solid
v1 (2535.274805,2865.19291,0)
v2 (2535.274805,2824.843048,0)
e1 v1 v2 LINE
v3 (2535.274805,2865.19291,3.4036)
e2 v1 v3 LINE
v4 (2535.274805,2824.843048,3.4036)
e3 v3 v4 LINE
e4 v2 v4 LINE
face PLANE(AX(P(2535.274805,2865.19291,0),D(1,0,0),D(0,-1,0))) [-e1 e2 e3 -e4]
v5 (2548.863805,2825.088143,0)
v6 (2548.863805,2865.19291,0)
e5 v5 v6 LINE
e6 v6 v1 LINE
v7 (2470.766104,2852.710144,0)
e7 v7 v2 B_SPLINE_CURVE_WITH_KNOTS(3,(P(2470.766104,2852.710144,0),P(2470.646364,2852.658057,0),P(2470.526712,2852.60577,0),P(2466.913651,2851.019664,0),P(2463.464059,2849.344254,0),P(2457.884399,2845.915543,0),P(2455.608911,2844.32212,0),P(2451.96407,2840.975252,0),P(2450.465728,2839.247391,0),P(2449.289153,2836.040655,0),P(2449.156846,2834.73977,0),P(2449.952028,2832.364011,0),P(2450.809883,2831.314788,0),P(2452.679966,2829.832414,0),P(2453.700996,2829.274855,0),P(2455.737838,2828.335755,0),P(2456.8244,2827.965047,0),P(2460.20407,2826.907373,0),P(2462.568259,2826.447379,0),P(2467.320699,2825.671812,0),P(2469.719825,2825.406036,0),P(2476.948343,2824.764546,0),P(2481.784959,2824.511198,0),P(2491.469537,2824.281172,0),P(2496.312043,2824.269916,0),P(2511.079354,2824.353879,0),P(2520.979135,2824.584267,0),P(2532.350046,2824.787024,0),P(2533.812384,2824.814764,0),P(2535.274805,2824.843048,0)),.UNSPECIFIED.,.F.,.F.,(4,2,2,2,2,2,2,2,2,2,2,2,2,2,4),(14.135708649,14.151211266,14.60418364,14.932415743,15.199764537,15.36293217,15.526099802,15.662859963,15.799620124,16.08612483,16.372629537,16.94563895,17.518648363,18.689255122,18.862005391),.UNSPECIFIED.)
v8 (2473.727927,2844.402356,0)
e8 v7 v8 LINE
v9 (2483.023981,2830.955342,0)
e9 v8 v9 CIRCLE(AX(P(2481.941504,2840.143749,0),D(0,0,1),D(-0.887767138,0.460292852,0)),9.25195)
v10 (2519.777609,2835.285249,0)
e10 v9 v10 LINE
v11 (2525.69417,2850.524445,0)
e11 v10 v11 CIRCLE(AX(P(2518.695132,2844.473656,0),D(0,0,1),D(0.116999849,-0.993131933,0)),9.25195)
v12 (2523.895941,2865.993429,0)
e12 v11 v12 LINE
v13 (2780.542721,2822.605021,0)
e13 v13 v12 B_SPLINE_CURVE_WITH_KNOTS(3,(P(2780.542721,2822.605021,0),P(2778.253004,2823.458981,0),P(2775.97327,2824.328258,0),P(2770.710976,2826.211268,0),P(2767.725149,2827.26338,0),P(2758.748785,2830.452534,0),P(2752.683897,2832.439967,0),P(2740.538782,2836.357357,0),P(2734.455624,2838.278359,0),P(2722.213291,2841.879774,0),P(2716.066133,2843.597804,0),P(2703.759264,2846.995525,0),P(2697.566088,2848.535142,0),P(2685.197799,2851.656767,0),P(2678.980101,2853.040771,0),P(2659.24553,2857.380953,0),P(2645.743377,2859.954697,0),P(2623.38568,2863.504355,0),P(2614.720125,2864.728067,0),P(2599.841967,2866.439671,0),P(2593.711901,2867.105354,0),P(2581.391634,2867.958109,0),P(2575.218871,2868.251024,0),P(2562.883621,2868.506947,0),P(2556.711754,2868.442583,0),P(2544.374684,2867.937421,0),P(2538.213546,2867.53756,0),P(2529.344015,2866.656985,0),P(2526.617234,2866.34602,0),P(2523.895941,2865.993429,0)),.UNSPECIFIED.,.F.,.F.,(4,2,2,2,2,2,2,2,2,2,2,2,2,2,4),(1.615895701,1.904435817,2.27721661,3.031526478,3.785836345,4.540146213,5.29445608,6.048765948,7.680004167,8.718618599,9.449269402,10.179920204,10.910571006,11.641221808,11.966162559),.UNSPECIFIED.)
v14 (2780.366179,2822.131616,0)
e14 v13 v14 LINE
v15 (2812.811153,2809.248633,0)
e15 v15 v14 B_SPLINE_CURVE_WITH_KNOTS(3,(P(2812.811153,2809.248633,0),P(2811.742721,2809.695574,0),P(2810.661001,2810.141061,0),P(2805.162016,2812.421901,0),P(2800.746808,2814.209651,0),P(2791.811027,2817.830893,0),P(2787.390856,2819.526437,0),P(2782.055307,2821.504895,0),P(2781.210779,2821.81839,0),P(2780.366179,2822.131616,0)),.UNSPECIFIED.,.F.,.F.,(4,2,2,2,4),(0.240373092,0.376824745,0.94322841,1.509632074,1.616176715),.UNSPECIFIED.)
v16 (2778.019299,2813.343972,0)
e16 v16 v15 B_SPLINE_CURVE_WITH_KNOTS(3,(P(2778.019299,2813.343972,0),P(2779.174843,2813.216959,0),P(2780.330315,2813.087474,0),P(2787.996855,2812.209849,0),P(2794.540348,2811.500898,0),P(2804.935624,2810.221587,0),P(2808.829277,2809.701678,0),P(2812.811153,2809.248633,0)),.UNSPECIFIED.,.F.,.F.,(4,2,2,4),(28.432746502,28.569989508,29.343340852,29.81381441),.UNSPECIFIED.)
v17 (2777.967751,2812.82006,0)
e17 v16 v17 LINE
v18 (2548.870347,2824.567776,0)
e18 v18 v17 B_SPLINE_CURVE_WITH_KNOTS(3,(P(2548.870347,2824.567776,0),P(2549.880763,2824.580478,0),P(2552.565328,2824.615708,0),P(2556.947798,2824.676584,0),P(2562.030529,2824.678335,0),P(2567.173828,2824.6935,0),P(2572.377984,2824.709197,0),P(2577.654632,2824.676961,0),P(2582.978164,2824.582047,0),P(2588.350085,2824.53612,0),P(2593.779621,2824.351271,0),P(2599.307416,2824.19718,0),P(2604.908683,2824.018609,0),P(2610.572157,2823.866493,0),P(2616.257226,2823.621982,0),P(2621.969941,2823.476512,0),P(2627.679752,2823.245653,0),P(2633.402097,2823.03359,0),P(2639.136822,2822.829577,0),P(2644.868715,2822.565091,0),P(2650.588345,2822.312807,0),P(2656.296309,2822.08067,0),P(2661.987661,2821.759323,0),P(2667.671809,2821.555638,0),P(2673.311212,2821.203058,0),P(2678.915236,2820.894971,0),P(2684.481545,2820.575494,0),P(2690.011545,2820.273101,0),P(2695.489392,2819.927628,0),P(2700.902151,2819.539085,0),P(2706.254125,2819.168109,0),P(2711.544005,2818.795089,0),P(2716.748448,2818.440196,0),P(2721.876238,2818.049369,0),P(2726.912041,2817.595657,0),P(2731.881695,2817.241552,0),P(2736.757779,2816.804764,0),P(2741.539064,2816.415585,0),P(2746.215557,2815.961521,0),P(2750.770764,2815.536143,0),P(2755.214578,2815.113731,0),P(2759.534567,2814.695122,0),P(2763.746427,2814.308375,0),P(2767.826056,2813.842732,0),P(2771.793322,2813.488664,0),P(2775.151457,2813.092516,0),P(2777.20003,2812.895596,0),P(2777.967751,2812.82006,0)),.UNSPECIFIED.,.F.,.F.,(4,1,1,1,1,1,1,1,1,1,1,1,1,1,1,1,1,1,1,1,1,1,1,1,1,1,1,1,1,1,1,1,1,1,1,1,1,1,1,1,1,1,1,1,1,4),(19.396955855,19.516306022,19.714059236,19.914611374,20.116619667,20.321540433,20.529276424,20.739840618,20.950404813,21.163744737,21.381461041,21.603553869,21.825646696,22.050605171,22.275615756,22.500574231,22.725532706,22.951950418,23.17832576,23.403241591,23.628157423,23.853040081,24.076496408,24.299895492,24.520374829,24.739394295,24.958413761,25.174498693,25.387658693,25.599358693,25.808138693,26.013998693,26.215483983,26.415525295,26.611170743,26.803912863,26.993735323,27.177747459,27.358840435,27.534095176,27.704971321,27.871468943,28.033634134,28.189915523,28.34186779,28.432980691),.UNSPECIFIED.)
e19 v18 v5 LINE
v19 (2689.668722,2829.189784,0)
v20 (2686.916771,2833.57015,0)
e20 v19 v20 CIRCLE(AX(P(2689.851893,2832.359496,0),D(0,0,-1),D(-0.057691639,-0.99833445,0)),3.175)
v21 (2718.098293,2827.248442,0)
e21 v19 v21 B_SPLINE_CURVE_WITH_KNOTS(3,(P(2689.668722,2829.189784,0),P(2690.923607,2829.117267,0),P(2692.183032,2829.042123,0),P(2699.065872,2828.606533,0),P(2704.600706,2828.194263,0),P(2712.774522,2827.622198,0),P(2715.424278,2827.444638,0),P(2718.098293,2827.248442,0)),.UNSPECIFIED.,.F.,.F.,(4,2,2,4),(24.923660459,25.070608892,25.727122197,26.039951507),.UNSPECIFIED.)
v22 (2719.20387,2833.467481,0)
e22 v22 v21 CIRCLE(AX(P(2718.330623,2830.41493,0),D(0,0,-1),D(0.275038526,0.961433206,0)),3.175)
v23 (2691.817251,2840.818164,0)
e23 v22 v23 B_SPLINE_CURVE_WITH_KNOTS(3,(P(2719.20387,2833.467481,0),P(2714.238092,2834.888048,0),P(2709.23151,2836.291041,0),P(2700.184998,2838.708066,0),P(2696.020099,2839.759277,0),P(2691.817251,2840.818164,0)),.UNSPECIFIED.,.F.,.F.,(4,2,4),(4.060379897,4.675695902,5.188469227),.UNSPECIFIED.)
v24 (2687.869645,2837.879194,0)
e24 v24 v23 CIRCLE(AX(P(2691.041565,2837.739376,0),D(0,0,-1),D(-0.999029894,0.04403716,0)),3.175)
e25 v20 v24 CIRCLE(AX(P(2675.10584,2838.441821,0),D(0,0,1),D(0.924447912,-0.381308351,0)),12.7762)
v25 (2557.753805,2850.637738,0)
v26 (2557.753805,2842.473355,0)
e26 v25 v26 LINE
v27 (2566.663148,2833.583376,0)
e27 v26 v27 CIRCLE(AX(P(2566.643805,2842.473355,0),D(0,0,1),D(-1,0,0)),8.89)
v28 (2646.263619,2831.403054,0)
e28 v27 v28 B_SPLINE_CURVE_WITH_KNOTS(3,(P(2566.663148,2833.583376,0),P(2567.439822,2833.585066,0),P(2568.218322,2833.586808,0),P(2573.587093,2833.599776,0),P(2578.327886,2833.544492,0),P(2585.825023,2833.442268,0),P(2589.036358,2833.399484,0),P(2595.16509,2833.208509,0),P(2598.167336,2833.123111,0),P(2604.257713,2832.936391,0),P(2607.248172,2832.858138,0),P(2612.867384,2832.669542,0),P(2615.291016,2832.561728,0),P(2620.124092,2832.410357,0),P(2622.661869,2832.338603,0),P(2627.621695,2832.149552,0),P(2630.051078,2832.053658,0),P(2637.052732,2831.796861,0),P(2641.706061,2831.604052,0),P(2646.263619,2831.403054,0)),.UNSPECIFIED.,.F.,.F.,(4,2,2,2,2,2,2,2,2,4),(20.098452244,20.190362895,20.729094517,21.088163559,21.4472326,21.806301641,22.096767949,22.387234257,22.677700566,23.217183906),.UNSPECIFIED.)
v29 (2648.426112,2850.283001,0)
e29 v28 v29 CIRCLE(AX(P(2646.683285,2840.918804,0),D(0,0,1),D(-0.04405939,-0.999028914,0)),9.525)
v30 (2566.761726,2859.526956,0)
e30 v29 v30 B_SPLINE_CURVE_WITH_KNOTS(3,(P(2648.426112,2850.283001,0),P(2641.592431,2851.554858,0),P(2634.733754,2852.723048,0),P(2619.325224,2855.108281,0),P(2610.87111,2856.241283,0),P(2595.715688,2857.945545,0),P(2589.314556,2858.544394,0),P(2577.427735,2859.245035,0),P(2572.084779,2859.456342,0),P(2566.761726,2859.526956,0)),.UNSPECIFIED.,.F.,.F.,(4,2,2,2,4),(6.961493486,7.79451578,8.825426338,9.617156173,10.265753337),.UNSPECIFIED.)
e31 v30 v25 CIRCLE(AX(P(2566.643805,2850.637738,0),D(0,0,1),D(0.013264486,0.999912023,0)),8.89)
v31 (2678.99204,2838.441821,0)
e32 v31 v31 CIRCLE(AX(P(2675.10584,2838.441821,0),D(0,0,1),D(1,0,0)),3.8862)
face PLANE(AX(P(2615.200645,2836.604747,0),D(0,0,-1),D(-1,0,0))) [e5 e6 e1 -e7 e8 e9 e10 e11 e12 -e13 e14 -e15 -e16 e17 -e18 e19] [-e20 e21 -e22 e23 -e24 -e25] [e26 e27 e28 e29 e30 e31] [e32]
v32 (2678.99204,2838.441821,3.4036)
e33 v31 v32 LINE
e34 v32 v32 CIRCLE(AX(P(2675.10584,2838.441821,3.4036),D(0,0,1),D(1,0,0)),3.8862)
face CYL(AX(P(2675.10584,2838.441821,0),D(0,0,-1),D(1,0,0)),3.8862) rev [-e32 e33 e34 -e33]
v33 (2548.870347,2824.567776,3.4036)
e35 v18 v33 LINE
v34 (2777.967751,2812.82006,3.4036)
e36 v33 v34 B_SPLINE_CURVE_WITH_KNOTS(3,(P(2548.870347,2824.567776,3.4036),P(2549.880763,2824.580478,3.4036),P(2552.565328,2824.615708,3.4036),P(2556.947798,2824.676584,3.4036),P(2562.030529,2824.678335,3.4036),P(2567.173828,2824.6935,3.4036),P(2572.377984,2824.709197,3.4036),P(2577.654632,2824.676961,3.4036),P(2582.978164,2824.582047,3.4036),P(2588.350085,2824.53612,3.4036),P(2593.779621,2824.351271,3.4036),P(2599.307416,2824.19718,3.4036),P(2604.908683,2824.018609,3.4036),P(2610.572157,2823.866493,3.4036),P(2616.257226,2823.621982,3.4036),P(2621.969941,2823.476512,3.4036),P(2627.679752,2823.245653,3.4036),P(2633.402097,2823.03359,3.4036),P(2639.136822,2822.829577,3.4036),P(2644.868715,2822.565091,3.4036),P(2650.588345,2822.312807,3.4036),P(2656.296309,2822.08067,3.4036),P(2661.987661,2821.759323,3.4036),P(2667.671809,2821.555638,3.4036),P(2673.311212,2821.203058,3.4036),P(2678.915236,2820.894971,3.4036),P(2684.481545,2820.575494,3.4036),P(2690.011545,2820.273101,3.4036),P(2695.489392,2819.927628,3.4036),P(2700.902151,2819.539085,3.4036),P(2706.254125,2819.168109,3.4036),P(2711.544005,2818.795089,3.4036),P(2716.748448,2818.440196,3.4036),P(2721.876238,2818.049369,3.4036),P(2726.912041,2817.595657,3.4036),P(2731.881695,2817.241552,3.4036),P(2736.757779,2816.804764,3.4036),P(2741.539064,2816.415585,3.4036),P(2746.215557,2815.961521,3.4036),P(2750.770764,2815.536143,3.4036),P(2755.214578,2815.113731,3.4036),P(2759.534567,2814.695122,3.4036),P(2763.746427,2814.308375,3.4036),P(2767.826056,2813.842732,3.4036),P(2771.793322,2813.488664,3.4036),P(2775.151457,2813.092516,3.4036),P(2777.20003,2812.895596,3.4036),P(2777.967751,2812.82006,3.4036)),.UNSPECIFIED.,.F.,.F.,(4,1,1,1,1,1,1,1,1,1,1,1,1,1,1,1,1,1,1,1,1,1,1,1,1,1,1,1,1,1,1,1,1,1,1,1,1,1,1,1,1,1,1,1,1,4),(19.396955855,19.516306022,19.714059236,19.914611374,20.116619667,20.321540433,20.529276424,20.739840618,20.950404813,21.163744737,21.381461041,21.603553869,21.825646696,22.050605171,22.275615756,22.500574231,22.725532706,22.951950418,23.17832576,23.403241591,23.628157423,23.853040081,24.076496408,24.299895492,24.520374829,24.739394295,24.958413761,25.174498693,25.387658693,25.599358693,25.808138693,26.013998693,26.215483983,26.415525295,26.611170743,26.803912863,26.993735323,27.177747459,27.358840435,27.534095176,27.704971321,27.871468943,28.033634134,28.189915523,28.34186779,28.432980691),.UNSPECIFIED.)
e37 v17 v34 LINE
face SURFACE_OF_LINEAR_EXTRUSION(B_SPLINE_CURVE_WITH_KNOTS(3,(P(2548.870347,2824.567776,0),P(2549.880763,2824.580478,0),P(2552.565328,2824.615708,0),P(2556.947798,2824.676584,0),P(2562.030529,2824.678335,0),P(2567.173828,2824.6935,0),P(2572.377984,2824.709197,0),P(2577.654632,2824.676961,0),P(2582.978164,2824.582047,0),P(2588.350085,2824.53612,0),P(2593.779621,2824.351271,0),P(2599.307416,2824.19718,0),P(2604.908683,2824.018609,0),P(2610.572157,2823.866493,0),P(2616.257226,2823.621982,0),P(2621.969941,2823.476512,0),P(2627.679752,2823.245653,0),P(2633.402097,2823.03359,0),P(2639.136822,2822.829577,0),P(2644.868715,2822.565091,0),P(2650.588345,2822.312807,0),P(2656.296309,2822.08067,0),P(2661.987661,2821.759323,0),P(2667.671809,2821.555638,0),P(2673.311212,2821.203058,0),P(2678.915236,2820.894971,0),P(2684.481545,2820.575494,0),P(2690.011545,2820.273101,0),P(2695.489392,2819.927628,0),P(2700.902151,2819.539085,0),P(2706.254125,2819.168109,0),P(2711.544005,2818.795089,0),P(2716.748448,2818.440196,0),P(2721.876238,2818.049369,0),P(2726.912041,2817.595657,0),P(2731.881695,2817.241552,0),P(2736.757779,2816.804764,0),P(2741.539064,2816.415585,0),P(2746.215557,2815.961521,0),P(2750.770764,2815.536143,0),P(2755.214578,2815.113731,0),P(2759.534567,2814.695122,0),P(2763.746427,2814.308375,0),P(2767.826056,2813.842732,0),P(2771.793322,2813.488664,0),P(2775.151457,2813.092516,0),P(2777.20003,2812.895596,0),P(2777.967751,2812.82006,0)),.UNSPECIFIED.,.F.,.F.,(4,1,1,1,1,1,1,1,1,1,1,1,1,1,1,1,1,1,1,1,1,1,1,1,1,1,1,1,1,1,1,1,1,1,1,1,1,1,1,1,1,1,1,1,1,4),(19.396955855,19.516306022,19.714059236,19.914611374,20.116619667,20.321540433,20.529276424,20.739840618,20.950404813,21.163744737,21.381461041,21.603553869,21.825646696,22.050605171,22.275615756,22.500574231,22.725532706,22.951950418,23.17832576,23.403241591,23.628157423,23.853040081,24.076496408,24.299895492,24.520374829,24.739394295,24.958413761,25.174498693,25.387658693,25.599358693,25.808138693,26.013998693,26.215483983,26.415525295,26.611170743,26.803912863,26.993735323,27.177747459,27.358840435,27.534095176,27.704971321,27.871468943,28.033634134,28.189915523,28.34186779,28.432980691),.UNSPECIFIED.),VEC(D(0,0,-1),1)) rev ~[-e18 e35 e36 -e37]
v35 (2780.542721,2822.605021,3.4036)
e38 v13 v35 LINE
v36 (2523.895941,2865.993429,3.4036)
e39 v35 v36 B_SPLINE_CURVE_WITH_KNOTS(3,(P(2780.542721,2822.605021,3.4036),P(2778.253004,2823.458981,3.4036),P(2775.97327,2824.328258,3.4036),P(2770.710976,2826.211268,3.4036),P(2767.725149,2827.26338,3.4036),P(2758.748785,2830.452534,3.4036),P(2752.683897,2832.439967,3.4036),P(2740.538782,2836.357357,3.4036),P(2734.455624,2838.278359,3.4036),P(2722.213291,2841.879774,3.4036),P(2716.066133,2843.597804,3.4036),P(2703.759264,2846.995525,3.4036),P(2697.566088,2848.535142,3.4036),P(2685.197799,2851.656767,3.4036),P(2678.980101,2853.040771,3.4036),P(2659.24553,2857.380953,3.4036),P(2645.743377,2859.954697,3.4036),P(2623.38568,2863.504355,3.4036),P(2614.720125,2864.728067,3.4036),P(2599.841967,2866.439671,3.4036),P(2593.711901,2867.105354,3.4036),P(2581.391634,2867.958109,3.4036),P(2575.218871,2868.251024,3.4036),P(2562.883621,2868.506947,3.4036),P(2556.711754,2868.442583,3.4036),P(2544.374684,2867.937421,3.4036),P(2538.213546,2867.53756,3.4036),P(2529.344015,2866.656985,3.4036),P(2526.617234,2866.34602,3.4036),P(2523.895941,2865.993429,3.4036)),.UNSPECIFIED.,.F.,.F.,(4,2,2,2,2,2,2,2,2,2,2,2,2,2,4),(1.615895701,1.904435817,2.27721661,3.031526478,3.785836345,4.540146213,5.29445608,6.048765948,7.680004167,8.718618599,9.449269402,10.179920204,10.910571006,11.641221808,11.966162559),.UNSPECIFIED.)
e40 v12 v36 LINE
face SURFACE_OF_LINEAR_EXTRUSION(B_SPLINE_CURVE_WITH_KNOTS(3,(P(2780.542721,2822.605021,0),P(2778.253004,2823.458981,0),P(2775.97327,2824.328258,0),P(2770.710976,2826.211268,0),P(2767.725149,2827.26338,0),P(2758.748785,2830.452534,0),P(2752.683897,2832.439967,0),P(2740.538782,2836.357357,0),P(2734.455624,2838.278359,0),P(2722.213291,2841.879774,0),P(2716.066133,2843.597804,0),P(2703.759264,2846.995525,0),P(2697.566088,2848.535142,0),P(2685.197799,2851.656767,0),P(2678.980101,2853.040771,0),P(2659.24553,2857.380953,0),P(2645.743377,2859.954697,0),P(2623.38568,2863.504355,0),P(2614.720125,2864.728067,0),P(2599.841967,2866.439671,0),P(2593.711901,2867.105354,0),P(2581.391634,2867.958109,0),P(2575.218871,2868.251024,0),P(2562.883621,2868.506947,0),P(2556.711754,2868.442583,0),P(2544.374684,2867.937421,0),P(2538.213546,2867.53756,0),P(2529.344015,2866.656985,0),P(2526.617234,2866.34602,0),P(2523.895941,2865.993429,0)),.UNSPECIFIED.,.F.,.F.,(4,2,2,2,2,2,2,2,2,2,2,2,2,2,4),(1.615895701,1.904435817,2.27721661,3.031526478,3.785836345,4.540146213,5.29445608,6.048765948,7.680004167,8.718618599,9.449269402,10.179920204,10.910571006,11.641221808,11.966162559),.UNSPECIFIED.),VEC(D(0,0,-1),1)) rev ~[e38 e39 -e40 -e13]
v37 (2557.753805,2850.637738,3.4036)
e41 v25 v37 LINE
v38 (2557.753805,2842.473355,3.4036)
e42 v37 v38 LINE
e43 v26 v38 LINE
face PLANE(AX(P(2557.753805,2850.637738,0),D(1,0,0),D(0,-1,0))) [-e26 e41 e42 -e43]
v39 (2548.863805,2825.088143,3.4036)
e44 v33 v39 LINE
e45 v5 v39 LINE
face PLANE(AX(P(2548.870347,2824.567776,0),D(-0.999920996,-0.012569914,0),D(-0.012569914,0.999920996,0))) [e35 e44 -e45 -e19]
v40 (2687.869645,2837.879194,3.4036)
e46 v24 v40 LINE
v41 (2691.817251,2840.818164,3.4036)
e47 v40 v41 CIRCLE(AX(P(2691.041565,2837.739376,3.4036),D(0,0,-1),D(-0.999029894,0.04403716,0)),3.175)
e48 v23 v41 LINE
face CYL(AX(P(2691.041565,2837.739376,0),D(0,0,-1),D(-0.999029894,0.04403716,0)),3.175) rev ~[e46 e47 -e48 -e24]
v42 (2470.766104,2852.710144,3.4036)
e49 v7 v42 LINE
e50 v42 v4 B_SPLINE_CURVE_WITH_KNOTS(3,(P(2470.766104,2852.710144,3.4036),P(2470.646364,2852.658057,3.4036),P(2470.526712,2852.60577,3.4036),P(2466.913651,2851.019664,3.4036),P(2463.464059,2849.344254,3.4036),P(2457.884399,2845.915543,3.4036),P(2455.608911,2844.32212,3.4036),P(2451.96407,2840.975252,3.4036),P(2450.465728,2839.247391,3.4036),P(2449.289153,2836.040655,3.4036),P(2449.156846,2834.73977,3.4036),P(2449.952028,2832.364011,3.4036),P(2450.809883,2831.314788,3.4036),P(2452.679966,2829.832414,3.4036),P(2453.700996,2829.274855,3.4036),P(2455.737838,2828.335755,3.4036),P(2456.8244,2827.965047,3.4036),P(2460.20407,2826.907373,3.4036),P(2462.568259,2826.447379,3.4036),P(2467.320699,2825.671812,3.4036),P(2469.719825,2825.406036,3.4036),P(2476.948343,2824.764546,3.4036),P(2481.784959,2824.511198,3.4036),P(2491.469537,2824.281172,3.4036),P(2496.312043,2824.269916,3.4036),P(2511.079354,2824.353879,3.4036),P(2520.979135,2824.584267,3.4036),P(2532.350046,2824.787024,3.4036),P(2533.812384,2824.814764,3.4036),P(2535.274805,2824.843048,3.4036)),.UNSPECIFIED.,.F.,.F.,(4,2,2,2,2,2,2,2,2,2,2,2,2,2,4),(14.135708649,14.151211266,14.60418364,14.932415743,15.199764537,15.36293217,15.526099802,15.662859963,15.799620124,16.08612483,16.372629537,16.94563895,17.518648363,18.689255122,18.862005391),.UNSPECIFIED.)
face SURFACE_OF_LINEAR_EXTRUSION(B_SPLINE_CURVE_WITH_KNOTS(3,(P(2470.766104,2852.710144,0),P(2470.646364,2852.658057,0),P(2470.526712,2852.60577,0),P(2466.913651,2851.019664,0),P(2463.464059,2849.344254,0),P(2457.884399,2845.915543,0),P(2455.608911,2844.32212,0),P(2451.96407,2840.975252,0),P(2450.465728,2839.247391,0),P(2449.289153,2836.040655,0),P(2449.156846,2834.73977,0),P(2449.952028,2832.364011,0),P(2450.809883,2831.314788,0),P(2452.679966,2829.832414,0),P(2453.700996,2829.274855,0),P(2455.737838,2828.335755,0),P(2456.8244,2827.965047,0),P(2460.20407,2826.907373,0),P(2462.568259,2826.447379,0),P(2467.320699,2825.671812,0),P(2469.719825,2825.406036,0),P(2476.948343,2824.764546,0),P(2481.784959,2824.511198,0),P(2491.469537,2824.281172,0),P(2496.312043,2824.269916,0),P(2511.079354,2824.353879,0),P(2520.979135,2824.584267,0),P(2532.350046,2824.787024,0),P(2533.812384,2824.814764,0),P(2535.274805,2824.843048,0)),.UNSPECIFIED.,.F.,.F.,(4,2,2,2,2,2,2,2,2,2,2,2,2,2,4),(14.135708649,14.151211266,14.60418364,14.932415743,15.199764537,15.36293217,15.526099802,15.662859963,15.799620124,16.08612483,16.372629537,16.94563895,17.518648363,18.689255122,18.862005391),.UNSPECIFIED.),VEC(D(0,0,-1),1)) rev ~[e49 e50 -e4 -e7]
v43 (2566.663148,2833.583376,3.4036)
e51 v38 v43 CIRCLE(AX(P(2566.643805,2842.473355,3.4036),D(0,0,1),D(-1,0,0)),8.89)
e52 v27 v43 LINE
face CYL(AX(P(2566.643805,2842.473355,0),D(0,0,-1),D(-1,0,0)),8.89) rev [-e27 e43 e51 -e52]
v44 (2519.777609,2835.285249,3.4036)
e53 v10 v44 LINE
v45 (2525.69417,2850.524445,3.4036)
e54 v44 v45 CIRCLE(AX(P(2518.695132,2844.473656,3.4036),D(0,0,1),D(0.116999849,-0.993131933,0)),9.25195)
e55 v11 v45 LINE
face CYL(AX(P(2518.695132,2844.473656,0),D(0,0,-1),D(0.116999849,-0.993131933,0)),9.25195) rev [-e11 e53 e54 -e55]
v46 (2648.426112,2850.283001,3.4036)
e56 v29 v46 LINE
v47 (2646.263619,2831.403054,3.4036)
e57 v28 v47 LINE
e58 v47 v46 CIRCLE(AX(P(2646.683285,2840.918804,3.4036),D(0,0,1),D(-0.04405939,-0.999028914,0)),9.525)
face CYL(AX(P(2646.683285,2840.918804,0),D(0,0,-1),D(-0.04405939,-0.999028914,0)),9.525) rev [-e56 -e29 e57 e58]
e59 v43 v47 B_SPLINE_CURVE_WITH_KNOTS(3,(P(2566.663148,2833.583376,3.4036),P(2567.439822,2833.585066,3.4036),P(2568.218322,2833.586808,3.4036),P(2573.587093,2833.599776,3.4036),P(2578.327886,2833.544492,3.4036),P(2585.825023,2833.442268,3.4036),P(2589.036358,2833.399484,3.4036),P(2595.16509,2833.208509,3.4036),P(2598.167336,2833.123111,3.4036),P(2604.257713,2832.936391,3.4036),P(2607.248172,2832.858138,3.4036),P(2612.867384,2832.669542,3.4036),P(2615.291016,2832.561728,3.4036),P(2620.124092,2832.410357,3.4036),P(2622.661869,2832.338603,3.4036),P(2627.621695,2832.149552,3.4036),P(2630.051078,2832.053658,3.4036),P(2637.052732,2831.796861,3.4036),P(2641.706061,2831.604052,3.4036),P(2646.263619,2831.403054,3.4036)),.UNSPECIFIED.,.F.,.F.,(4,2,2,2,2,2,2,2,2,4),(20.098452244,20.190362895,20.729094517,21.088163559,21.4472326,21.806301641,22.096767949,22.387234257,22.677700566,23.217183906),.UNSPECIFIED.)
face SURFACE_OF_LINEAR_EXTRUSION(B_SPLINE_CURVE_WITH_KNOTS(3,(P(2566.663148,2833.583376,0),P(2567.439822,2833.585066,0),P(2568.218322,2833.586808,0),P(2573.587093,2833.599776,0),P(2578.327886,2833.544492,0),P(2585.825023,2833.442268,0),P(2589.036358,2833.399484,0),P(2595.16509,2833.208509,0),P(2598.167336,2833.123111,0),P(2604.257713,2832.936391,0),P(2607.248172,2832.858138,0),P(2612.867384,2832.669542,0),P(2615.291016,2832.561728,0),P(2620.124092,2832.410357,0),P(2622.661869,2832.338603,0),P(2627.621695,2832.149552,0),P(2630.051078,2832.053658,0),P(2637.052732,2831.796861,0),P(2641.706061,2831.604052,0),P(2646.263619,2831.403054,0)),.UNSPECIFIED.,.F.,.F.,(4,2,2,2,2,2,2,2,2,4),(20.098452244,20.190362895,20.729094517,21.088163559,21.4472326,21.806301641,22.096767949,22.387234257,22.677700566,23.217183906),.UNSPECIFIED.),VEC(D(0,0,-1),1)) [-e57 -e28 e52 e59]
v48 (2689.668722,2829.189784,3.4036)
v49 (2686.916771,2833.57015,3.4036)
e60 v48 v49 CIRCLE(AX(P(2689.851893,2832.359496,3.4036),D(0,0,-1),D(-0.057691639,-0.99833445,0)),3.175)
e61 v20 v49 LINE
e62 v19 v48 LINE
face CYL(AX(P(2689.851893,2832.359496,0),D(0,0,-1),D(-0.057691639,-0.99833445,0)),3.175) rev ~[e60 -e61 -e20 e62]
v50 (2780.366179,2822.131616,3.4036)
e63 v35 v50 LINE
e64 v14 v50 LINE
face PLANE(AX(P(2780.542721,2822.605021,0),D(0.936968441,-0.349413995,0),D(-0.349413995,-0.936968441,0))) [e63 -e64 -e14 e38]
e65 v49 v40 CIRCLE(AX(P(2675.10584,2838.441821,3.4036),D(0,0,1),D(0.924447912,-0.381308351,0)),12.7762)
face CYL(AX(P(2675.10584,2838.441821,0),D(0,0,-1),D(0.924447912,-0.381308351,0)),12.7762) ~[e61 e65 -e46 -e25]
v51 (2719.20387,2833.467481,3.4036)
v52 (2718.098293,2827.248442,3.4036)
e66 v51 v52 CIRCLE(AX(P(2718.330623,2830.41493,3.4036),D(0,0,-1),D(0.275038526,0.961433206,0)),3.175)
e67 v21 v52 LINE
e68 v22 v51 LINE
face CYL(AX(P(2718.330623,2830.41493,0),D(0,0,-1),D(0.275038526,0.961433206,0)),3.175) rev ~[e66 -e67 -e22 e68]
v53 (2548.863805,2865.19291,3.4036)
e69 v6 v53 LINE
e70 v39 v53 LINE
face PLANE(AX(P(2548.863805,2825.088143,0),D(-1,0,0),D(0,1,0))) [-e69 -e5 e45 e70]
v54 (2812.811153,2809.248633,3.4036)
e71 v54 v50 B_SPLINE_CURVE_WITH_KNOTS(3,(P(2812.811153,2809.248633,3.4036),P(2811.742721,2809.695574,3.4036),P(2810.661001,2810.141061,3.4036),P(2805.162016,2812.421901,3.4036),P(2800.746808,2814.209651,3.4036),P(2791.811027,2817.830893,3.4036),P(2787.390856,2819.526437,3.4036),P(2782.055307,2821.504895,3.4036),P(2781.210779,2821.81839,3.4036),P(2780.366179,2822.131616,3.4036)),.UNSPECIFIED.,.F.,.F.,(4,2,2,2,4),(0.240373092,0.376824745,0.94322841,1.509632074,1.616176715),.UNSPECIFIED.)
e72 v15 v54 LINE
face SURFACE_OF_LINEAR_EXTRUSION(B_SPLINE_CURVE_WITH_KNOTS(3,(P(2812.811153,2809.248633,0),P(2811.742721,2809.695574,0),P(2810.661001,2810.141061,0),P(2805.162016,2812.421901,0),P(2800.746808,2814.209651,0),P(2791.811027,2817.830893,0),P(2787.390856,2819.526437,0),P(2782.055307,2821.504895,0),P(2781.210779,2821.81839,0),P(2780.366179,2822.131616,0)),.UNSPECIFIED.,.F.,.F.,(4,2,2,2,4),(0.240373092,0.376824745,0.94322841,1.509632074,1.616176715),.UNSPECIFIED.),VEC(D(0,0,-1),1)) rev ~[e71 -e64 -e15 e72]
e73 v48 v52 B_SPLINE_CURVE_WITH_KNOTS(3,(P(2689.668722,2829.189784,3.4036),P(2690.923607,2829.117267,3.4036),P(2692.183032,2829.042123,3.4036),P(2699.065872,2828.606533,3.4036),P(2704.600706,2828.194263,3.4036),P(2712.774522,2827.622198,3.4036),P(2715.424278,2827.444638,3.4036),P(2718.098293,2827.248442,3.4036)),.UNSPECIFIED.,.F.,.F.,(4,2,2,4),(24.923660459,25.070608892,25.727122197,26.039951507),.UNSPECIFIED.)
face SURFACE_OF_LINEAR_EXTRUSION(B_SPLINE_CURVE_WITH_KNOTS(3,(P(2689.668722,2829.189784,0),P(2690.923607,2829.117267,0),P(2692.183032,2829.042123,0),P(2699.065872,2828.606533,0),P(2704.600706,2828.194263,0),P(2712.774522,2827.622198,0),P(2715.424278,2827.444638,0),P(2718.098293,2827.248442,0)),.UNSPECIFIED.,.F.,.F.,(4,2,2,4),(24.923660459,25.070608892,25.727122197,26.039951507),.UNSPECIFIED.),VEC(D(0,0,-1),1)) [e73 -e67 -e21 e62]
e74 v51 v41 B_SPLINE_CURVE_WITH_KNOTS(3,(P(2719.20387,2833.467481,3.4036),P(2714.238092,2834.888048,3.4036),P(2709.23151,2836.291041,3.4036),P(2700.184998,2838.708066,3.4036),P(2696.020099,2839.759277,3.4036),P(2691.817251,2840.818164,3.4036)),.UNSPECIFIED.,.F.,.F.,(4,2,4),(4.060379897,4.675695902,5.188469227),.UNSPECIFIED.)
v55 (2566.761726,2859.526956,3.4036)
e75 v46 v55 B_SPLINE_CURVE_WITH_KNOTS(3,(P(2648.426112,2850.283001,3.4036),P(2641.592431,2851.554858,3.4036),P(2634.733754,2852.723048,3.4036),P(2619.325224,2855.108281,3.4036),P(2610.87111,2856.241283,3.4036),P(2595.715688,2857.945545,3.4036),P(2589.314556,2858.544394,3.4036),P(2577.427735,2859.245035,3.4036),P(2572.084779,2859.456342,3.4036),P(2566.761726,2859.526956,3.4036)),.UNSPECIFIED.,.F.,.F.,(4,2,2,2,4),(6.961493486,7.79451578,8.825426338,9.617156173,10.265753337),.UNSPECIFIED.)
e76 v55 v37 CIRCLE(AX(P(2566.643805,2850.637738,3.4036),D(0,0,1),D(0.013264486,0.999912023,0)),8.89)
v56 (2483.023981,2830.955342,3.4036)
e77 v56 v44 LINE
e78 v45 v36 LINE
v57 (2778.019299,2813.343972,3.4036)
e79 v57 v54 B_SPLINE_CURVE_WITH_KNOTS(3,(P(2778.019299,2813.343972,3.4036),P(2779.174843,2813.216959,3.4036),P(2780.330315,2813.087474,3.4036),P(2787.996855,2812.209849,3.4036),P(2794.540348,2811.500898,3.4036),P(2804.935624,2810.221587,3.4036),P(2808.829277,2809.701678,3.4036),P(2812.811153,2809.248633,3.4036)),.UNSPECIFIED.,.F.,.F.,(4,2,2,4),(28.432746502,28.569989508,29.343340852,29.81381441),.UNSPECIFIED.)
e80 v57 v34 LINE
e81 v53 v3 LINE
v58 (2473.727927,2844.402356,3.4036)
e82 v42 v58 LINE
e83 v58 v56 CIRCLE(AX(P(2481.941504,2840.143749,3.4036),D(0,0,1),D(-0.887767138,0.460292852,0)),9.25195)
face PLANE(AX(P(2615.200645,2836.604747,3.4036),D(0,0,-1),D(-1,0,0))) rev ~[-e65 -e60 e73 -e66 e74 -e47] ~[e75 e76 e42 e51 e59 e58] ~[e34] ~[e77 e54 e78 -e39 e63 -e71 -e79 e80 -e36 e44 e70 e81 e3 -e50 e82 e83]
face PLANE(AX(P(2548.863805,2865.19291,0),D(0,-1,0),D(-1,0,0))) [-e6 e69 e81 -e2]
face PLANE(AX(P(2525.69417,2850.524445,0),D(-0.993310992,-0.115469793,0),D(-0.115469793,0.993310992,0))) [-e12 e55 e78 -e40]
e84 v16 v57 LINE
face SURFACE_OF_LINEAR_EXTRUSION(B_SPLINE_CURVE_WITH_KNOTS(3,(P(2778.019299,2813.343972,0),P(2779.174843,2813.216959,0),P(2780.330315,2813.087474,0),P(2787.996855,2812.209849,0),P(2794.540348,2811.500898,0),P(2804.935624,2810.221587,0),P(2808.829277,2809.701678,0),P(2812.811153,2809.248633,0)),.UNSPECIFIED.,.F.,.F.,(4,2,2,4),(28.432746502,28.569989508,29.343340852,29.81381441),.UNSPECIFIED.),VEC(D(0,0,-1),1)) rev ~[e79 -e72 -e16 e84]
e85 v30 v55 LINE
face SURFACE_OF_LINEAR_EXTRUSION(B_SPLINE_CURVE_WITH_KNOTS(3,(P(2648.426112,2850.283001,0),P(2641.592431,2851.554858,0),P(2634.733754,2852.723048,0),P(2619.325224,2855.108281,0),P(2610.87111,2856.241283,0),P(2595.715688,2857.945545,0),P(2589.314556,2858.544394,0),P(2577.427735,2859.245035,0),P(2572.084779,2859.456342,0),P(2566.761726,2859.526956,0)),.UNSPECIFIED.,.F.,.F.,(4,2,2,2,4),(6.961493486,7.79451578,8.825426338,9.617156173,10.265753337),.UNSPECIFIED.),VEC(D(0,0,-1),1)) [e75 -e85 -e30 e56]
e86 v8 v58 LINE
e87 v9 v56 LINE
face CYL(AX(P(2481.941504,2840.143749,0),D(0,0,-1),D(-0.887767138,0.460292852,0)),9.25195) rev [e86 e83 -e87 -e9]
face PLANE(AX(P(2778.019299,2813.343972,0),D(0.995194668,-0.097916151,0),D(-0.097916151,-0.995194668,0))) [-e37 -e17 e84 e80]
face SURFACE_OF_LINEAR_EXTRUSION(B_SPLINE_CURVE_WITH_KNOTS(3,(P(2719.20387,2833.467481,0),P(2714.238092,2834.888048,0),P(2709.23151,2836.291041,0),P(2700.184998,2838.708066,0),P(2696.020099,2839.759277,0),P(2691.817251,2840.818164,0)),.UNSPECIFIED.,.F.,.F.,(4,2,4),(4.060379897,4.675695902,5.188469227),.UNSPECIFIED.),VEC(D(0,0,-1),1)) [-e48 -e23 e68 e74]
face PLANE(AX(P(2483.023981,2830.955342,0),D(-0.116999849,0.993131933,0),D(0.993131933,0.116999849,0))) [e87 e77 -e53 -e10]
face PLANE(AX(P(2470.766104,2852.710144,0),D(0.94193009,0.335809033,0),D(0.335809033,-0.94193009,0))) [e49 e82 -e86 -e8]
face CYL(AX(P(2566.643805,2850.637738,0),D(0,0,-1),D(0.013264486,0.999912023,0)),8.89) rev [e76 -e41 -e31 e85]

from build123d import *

# Parameters (mm, degrees)
SKETCH1_R           = 3.8862
BOSS_EXTRUDE1_DEPTH = 3.4036


with BuildPart() as part:
    # Sketch1 → Boss-Extrude1 (new body)
    with BuildSketch(Plane.XY):
        with BuildLine():
            Line((2483.023980975, 2830.955342148), (2519.777608908, 2835.285249151))
            ThreePointArc((2519.777608908, 2835.285249151), (2527.319863632, 2841.125136195), (2525.694170086, 2850.52444508))
            Line((2525.694170086, 2850.52444508), (2523.895941315, 2865.993429263))
            add(Edge.make_bspline(
                [(2780.542721306, 2822.605020678), (2778.253003884, 2823.458980516), (2775.973270324, 2824.328257932), (2770.710976164, 2826.211267821), (2767.725148574, 2827.263379627), (2758.748784649, 2830.452533672), (2752.683897054, 2832.439967039), (2740.538782354, 2836.35735663), (2734.455623744, 2838.278358675), (2722.213291432, 2841.879774299), (2716.066133268, 2843.597804263), (2703.759263564, 2846.995524774), (2697.56608772, 2848.535141926), (2685.197798544, 2851.656767301), (2678.980101095, 2853.040770642), (2659.245529669, 2857.380953253), (2645.743376553, 2859.954697057), (2623.385680041, 2863.50435515), (2614.720124938, 2864.728067498), (2599.841966526, 2866.43967058), (2593.711900835, 2867.105354026), (2581.391633876, 2867.958108609), (2575.218871474, 2868.251024198), (2562.883621226, 2868.506947472), (2556.711754315, 2868.442582898), (2544.37468429, 2867.937420798), (2538.213546048, 2867.537560449), (2529.344015147, 2866.656984731), (2526.617234193, 2866.346019973), (2523.895941315, 2865.993429263)],
                knots=[1.615895701, 1.615895701, 1.615895701, 1.615895701, 1.904435817, 1.904435817, 2.27721661, 2.27721661, 3.031526478, 3.031526478, 3.785836345, 3.785836345, 4.540146213, 4.540146213, 5.29445608, 5.29445608, 6.048765948, 6.048765948, 7.680004167, 7.680004167, 8.718618599, 8.718618599, 9.449269402, 9.449269402, 10.179920204, 10.179920204, 10.910571006, 10.910571006, 11.641221808, 11.641221808, 11.966162559, 11.966162559, 11.966162559, 11.966162559], degree=3))
            Line((2780.542721306, 2822.605020678), (2780.366179259, 2822.131615694))
            add(Edge.make_bspline(
                [(2812.811153408, 2809.248633243), (2811.742721472, 2809.69557433), (2810.661000778, 2810.141061351), (2805.162016263, 2812.421901494), (2800.746808293, 2814.209651042), (2791.811027497, 2817.8308926), (2787.390855916, 2819.526437421), (2782.055306735, 2821.504895189), (2781.210779035, 2821.818389545), (2780.366179259, 2822.131615694)],
                knots=[0.240373092, 0.240373092, 0.240373092, 0.240373092, 0.376824745, 0.376824745, 0.94322841, 0.94322841, 1.509632074, 1.509632074, 1.616176715, 1.616176715, 1.616176715, 1.616176715], degree=3))
            add(Edge.make_bspline(
                [(2778.019298543, 2813.343972358), (2779.174843082, 2813.216959045), (2780.33031454, 2813.087473515), (2787.996855373, 2812.209848611), (2794.540348084, 2811.500898092), (2804.935623835, 2810.221587249), (2808.829276968, 2809.701678096), (2812.811153408, 2809.248633243)],
                knots=[28.432746502, 28.432746502, 28.432746502, 28.432746502, 28.569989508, 28.569989508, 29.343340852, 29.343340852, 29.81381441, 29.81381441, 29.81381441, 29.81381441], degree=3))
            Line((2778.019298543, 2813.343972358), (2777.967751396, 2812.820060367))
            add(Edge.make_bspline(
                [(2548.870346536, 2824.567775924), (2549.880763048, 2824.580477774), (2552.565327641, 2824.615707873), (2556.947797606, 2824.676583949), (2562.030529235, 2824.678334647), (2567.173828356, 2824.693500153), (2572.377983544, 2824.709196535), (2577.654631688, 2824.67696147), (2582.978163683, 2824.582046793), (2588.350084988, 2824.536119888), (2593.779620592, 2824.351271255), (2599.307416132, 2824.197179686), (2604.908682597, 2824.018609119), (2610.572157053, 2823.866492961), (2616.257225785, 2823.621981602), (2621.969941233, 2823.476511904), (2627.679751972, 2823.245652948), (2633.40209681, 2823.033589705), (2639.136822152, 2822.829576657), (2644.868715349, 2822.565091369), (2650.588345306, 2822.312806877), (2656.296308508, 2822.080669661), (2661.987661359, 2821.759322661), (2667.671808974, 2821.555637659), (2673.311212153, 2821.203058391), (2678.915236244, 2820.89497077), (2684.481545426, 2820.575494462), (2690.011544993, 2820.273101276), (2695.489391996, 2819.927627801), (2700.902150582, 2819.53908503), (2706.254125464, 2819.168109124), (2711.544005033, 2818.795089042), (2716.748448208, 2818.440196261), (2721.876237554, 2818.04936914), (2726.912041029, 2817.595657199), (2731.881695192, 2817.241551537), (2736.757779223, 2816.804763884), (2741.539063821, 2816.415585152), (2746.215557291, 2815.961521287), (2750.770763986, 2815.536143199), (2755.214578157, 2815.113731136), (2759.534567055, 2814.695121871), (2763.74642736, 2814.308374678), (2767.826055945, 2813.842732195), (2771.793322217, 2813.488663634), (2775.151456937, 2813.092516309), (2777.200029602, 2812.895595703), (2777.967751396, 2812.820060367)],
                knots=[19.396955855, 19.396955855, 19.396955855, 19.396955855, 19.516306022, 19.714059236, 19.914611374, 20.116619667, 20.321540433, 20.529276424, 20.739840618, 20.950404813, 21.163744737, 21.381461041, 21.603553869, 21.825646696, 22.050605171, 22.275615756, 22.500574231, 22.725532706, 22.951950418, 23.17832576, 23.403241591, 23.628157423, 23.853040081, 24.076496408, 24.299895492, 24.520374829, 24.739394295, 24.958413761, 25.174498693, 25.387658693, 25.599358693, 25.808138693, 26.013998693, 26.215483983, 26.415525295, 26.611170743, 26.803912863, 26.993735323, 27.177747459, 27.358840435, 27.534095176, 27.704971321, 27.871468943, 28.033634134, 28.189915523, 28.34186779, 28.432980691, 28.432980691, 28.432980691, 28.432980691], degree=3))
            Line((2548.870346536, 2824.567775924), (2548.863805049, 2825.088143073))
            Line((2548.863805049, 2825.088143073), (2548.863805049, 2865.192910216))
            Line((2548.863805049, 2865.192910216), (2535.274805049, 2865.192910216))
            Line((2535.274805049, 2865.192910216), (2535.274805049, 2824.843047695))
            add(Edge.make_bspline(
                [(2470.766103702, 2852.710144431), (2470.646363815, 2852.658056759), (2470.526712246, 2852.605770249), (2466.913650609, 2851.01966366), (2463.464058775, 2849.344254159), (2457.884399007, 2845.915542636), (2455.608911301, 2844.322120429), (2451.964070041, 2840.97525186), (2450.465728267, 2839.247391174), (2449.289153427, 2836.040655092), (2449.156845546, 2834.739769527), (2449.952027869, 2832.364010811), (2450.809883366, 2831.314787526), (2452.679965619, 2829.832414271), (2453.700996299, 2829.274855137), (2455.737837909, 2828.335754604), (2456.824400221, 2827.965046681), (2460.204069688, 2826.907372605), (2462.568258916, 2826.447378923), (2467.320698583, 2825.671812343), (2469.719825171, 2825.406035518), (2476.948343474, 2824.764545606), (2481.784959026, 2824.511198373), (2491.469537197, 2824.281172127), (2496.312043463, 2824.269915507), (2511.07935418, 2824.353879033), (2520.979134882, 2824.58426729), (2532.350045622, 2824.787023806), (2533.812383917, 2824.814763735), (2535.274805049, 2824.843047695)],
                knots=[14.135708649, 14.135708649, 14.135708649, 14.135708649, 14.151211266, 14.151211266, 14.60418364, 14.60418364, 14.932415743, 14.932415743, 15.199764537, 15.199764537, 15.36293217, 15.36293217, 15.526099802, 15.526099802, 15.662859963, 15.662859963, 15.799620124, 15.799620124, 16.08612483, 16.08612483, 16.372629537, 16.372629537, 16.94563895, 16.94563895, 17.518648363, 17.518648363, 18.689255122, 18.689255122, 18.862005391, 18.862005391, 18.862005391, 18.862005391], degree=3))
            Line((2470.766103702, 2852.710144431), (2473.727927056, 2844.402355581))
            ThreePointArc((2473.727927056, 2844.402355581), (2474.331071197, 2834.882581205), (2483.023980975, 2830.955342148))
        make_face()
        with Locations((2675.105839614, 2838.441821398)):
            Circle(SKETCH1_R, mode=Mode.SUBTRACT)
        with BuildLine():
            Line((2557.75380505, 2850.637738035), (2557.753805049, 2842.473355086))
            ThreePointArc((2557.753805049, 2842.473355086), (2560.364468394, 2836.180340612), (2566.663148395, 2833.58337613))
            add(Edge.make_bspline(
                [(2566.663148395, 2833.58337613), (2567.439822141, 2833.585066063), (2568.21832178, 2833.586808462), (2573.587092614, 2833.59977597), (2578.32788588, 2833.544491876), (2585.825022944, 2833.442267746), (2589.036358319, 2833.399484073), (2595.165089719, 2833.20850923), (2598.167336091, 2833.123111358), (2604.257712531, 2832.936390993), (2607.248172017, 2832.858137525), (2612.867384093, 2832.669542271), (2615.291016485, 2832.561728236), (2620.124092488, 2832.410356947), (2622.661869101, 2832.338603107), (2627.621694753, 2832.149552246), (2630.051078266, 2832.05365757), (2637.052732353, 2831.79686091), (2641.706061455, 2831.604052118), (2646.263618968, 2831.403053725)],
                knots=[20.098452244, 20.098452244, 20.098452244, 20.098452244, 20.190362895, 20.190362895, 20.729094517, 20.729094517, 21.088163559, 21.088163559, 21.4472326, 21.4472326, 21.806301641, 21.806301641, 22.096767949, 22.096767949, 22.387234257, 22.387234257, 22.677700566, 22.677700566, 23.217183906, 23.217183906, 23.217183906, 23.217183906], degree=3))
            ThreePointArc((2646.263618968, 2831.403053725), (2656.146412526, 2839.834905592), (2648.426111877, 2850.283000744))
            add(Edge.make_bspline(
                [(2648.426111877, 2850.283000744), (2641.59243129, 2851.55485833), (2634.73375431, 2852.723047867), (2619.325224165, 2855.108280696), (2610.871110121, 2856.241283208), (2595.715687801, 2857.94554503), (2589.314555675, 2858.544394121), (2577.427735136, 2859.245035452), (2572.084779046, 2859.456342149), (2566.761726328, 2859.526955918)],
                knots=[6.961493486, 6.961493486, 6.961493486, 6.961493486, 7.79451578, 7.79451578, 8.825426338, 8.825426338, 9.617156173, 9.617156173, 10.265753337, 10.265753337, 10.265753337, 10.265753337], degree=3))
            ThreePointArc((2566.761726328, 2859.526955918), (2560.399456411, 2856.965471443), (2557.75380505, 2850.637738035))
        make_face(mode=Mode.SUBTRACT)
        with BuildLine():
            ThreePointArc((2686.916771023, 2833.570149642), (2687.580669946, 2835.683217653), (2687.869645343, 2837.879193841))
            ThreePointArc((2687.869645343, 2837.879193841), (2689.145550797, 2840.286090247), (2691.817251109, 2840.818164007))
            add(Edge.make_bspline(
                [(2719.203869949, 2833.467480752), (2714.238092072, 2834.888047691), (2709.231509514, 2836.291040915), (2700.184998092, 2838.708065706), (2696.020099344, 2839.759276625), (2691.817251109, 2840.818164007)],
                knots=[4.060379897, 4.060379897, 4.060379897, 4.060379897, 4.675695902, 4.675695902, 5.188469227, 5.188469227, 5.188469227, 5.188469227], degree=3))
            ThreePointArc((2719.203869949, 2833.467480752), (2721.456611216, 2829.859214248), (2718.098293363, 2827.24844203))
            add(Edge.make_bspline(
                [(2689.668722188, 2829.189783747), (2690.923606701, 2829.117266622), (2692.18303199, 2829.042123136), (2699.065872366, 2828.606532746), (2704.600706314, 2828.194262638), (2712.774522449, 2827.622197512), (2715.42427843, 2827.444637901), (2718.098293363, 2827.24844203)],
                knots=[24.923660459, 24.923660459, 24.923660459, 24.923660459, 25.070608892, 25.070608892, 25.727122197, 25.727122197, 26.039951507, 26.039951507, 26.039951507, 26.039951507], degree=3))
            ThreePointArc((2689.668722188, 2829.189783747), (2687.163429033, 2830.670476464), (2686.916771023, 2833.570149642))
        make_face(mode=Mode.SUBTRACT)
    extrude(amount=BOSS_EXTRUDE1_DEPTH)


solid = part.part
